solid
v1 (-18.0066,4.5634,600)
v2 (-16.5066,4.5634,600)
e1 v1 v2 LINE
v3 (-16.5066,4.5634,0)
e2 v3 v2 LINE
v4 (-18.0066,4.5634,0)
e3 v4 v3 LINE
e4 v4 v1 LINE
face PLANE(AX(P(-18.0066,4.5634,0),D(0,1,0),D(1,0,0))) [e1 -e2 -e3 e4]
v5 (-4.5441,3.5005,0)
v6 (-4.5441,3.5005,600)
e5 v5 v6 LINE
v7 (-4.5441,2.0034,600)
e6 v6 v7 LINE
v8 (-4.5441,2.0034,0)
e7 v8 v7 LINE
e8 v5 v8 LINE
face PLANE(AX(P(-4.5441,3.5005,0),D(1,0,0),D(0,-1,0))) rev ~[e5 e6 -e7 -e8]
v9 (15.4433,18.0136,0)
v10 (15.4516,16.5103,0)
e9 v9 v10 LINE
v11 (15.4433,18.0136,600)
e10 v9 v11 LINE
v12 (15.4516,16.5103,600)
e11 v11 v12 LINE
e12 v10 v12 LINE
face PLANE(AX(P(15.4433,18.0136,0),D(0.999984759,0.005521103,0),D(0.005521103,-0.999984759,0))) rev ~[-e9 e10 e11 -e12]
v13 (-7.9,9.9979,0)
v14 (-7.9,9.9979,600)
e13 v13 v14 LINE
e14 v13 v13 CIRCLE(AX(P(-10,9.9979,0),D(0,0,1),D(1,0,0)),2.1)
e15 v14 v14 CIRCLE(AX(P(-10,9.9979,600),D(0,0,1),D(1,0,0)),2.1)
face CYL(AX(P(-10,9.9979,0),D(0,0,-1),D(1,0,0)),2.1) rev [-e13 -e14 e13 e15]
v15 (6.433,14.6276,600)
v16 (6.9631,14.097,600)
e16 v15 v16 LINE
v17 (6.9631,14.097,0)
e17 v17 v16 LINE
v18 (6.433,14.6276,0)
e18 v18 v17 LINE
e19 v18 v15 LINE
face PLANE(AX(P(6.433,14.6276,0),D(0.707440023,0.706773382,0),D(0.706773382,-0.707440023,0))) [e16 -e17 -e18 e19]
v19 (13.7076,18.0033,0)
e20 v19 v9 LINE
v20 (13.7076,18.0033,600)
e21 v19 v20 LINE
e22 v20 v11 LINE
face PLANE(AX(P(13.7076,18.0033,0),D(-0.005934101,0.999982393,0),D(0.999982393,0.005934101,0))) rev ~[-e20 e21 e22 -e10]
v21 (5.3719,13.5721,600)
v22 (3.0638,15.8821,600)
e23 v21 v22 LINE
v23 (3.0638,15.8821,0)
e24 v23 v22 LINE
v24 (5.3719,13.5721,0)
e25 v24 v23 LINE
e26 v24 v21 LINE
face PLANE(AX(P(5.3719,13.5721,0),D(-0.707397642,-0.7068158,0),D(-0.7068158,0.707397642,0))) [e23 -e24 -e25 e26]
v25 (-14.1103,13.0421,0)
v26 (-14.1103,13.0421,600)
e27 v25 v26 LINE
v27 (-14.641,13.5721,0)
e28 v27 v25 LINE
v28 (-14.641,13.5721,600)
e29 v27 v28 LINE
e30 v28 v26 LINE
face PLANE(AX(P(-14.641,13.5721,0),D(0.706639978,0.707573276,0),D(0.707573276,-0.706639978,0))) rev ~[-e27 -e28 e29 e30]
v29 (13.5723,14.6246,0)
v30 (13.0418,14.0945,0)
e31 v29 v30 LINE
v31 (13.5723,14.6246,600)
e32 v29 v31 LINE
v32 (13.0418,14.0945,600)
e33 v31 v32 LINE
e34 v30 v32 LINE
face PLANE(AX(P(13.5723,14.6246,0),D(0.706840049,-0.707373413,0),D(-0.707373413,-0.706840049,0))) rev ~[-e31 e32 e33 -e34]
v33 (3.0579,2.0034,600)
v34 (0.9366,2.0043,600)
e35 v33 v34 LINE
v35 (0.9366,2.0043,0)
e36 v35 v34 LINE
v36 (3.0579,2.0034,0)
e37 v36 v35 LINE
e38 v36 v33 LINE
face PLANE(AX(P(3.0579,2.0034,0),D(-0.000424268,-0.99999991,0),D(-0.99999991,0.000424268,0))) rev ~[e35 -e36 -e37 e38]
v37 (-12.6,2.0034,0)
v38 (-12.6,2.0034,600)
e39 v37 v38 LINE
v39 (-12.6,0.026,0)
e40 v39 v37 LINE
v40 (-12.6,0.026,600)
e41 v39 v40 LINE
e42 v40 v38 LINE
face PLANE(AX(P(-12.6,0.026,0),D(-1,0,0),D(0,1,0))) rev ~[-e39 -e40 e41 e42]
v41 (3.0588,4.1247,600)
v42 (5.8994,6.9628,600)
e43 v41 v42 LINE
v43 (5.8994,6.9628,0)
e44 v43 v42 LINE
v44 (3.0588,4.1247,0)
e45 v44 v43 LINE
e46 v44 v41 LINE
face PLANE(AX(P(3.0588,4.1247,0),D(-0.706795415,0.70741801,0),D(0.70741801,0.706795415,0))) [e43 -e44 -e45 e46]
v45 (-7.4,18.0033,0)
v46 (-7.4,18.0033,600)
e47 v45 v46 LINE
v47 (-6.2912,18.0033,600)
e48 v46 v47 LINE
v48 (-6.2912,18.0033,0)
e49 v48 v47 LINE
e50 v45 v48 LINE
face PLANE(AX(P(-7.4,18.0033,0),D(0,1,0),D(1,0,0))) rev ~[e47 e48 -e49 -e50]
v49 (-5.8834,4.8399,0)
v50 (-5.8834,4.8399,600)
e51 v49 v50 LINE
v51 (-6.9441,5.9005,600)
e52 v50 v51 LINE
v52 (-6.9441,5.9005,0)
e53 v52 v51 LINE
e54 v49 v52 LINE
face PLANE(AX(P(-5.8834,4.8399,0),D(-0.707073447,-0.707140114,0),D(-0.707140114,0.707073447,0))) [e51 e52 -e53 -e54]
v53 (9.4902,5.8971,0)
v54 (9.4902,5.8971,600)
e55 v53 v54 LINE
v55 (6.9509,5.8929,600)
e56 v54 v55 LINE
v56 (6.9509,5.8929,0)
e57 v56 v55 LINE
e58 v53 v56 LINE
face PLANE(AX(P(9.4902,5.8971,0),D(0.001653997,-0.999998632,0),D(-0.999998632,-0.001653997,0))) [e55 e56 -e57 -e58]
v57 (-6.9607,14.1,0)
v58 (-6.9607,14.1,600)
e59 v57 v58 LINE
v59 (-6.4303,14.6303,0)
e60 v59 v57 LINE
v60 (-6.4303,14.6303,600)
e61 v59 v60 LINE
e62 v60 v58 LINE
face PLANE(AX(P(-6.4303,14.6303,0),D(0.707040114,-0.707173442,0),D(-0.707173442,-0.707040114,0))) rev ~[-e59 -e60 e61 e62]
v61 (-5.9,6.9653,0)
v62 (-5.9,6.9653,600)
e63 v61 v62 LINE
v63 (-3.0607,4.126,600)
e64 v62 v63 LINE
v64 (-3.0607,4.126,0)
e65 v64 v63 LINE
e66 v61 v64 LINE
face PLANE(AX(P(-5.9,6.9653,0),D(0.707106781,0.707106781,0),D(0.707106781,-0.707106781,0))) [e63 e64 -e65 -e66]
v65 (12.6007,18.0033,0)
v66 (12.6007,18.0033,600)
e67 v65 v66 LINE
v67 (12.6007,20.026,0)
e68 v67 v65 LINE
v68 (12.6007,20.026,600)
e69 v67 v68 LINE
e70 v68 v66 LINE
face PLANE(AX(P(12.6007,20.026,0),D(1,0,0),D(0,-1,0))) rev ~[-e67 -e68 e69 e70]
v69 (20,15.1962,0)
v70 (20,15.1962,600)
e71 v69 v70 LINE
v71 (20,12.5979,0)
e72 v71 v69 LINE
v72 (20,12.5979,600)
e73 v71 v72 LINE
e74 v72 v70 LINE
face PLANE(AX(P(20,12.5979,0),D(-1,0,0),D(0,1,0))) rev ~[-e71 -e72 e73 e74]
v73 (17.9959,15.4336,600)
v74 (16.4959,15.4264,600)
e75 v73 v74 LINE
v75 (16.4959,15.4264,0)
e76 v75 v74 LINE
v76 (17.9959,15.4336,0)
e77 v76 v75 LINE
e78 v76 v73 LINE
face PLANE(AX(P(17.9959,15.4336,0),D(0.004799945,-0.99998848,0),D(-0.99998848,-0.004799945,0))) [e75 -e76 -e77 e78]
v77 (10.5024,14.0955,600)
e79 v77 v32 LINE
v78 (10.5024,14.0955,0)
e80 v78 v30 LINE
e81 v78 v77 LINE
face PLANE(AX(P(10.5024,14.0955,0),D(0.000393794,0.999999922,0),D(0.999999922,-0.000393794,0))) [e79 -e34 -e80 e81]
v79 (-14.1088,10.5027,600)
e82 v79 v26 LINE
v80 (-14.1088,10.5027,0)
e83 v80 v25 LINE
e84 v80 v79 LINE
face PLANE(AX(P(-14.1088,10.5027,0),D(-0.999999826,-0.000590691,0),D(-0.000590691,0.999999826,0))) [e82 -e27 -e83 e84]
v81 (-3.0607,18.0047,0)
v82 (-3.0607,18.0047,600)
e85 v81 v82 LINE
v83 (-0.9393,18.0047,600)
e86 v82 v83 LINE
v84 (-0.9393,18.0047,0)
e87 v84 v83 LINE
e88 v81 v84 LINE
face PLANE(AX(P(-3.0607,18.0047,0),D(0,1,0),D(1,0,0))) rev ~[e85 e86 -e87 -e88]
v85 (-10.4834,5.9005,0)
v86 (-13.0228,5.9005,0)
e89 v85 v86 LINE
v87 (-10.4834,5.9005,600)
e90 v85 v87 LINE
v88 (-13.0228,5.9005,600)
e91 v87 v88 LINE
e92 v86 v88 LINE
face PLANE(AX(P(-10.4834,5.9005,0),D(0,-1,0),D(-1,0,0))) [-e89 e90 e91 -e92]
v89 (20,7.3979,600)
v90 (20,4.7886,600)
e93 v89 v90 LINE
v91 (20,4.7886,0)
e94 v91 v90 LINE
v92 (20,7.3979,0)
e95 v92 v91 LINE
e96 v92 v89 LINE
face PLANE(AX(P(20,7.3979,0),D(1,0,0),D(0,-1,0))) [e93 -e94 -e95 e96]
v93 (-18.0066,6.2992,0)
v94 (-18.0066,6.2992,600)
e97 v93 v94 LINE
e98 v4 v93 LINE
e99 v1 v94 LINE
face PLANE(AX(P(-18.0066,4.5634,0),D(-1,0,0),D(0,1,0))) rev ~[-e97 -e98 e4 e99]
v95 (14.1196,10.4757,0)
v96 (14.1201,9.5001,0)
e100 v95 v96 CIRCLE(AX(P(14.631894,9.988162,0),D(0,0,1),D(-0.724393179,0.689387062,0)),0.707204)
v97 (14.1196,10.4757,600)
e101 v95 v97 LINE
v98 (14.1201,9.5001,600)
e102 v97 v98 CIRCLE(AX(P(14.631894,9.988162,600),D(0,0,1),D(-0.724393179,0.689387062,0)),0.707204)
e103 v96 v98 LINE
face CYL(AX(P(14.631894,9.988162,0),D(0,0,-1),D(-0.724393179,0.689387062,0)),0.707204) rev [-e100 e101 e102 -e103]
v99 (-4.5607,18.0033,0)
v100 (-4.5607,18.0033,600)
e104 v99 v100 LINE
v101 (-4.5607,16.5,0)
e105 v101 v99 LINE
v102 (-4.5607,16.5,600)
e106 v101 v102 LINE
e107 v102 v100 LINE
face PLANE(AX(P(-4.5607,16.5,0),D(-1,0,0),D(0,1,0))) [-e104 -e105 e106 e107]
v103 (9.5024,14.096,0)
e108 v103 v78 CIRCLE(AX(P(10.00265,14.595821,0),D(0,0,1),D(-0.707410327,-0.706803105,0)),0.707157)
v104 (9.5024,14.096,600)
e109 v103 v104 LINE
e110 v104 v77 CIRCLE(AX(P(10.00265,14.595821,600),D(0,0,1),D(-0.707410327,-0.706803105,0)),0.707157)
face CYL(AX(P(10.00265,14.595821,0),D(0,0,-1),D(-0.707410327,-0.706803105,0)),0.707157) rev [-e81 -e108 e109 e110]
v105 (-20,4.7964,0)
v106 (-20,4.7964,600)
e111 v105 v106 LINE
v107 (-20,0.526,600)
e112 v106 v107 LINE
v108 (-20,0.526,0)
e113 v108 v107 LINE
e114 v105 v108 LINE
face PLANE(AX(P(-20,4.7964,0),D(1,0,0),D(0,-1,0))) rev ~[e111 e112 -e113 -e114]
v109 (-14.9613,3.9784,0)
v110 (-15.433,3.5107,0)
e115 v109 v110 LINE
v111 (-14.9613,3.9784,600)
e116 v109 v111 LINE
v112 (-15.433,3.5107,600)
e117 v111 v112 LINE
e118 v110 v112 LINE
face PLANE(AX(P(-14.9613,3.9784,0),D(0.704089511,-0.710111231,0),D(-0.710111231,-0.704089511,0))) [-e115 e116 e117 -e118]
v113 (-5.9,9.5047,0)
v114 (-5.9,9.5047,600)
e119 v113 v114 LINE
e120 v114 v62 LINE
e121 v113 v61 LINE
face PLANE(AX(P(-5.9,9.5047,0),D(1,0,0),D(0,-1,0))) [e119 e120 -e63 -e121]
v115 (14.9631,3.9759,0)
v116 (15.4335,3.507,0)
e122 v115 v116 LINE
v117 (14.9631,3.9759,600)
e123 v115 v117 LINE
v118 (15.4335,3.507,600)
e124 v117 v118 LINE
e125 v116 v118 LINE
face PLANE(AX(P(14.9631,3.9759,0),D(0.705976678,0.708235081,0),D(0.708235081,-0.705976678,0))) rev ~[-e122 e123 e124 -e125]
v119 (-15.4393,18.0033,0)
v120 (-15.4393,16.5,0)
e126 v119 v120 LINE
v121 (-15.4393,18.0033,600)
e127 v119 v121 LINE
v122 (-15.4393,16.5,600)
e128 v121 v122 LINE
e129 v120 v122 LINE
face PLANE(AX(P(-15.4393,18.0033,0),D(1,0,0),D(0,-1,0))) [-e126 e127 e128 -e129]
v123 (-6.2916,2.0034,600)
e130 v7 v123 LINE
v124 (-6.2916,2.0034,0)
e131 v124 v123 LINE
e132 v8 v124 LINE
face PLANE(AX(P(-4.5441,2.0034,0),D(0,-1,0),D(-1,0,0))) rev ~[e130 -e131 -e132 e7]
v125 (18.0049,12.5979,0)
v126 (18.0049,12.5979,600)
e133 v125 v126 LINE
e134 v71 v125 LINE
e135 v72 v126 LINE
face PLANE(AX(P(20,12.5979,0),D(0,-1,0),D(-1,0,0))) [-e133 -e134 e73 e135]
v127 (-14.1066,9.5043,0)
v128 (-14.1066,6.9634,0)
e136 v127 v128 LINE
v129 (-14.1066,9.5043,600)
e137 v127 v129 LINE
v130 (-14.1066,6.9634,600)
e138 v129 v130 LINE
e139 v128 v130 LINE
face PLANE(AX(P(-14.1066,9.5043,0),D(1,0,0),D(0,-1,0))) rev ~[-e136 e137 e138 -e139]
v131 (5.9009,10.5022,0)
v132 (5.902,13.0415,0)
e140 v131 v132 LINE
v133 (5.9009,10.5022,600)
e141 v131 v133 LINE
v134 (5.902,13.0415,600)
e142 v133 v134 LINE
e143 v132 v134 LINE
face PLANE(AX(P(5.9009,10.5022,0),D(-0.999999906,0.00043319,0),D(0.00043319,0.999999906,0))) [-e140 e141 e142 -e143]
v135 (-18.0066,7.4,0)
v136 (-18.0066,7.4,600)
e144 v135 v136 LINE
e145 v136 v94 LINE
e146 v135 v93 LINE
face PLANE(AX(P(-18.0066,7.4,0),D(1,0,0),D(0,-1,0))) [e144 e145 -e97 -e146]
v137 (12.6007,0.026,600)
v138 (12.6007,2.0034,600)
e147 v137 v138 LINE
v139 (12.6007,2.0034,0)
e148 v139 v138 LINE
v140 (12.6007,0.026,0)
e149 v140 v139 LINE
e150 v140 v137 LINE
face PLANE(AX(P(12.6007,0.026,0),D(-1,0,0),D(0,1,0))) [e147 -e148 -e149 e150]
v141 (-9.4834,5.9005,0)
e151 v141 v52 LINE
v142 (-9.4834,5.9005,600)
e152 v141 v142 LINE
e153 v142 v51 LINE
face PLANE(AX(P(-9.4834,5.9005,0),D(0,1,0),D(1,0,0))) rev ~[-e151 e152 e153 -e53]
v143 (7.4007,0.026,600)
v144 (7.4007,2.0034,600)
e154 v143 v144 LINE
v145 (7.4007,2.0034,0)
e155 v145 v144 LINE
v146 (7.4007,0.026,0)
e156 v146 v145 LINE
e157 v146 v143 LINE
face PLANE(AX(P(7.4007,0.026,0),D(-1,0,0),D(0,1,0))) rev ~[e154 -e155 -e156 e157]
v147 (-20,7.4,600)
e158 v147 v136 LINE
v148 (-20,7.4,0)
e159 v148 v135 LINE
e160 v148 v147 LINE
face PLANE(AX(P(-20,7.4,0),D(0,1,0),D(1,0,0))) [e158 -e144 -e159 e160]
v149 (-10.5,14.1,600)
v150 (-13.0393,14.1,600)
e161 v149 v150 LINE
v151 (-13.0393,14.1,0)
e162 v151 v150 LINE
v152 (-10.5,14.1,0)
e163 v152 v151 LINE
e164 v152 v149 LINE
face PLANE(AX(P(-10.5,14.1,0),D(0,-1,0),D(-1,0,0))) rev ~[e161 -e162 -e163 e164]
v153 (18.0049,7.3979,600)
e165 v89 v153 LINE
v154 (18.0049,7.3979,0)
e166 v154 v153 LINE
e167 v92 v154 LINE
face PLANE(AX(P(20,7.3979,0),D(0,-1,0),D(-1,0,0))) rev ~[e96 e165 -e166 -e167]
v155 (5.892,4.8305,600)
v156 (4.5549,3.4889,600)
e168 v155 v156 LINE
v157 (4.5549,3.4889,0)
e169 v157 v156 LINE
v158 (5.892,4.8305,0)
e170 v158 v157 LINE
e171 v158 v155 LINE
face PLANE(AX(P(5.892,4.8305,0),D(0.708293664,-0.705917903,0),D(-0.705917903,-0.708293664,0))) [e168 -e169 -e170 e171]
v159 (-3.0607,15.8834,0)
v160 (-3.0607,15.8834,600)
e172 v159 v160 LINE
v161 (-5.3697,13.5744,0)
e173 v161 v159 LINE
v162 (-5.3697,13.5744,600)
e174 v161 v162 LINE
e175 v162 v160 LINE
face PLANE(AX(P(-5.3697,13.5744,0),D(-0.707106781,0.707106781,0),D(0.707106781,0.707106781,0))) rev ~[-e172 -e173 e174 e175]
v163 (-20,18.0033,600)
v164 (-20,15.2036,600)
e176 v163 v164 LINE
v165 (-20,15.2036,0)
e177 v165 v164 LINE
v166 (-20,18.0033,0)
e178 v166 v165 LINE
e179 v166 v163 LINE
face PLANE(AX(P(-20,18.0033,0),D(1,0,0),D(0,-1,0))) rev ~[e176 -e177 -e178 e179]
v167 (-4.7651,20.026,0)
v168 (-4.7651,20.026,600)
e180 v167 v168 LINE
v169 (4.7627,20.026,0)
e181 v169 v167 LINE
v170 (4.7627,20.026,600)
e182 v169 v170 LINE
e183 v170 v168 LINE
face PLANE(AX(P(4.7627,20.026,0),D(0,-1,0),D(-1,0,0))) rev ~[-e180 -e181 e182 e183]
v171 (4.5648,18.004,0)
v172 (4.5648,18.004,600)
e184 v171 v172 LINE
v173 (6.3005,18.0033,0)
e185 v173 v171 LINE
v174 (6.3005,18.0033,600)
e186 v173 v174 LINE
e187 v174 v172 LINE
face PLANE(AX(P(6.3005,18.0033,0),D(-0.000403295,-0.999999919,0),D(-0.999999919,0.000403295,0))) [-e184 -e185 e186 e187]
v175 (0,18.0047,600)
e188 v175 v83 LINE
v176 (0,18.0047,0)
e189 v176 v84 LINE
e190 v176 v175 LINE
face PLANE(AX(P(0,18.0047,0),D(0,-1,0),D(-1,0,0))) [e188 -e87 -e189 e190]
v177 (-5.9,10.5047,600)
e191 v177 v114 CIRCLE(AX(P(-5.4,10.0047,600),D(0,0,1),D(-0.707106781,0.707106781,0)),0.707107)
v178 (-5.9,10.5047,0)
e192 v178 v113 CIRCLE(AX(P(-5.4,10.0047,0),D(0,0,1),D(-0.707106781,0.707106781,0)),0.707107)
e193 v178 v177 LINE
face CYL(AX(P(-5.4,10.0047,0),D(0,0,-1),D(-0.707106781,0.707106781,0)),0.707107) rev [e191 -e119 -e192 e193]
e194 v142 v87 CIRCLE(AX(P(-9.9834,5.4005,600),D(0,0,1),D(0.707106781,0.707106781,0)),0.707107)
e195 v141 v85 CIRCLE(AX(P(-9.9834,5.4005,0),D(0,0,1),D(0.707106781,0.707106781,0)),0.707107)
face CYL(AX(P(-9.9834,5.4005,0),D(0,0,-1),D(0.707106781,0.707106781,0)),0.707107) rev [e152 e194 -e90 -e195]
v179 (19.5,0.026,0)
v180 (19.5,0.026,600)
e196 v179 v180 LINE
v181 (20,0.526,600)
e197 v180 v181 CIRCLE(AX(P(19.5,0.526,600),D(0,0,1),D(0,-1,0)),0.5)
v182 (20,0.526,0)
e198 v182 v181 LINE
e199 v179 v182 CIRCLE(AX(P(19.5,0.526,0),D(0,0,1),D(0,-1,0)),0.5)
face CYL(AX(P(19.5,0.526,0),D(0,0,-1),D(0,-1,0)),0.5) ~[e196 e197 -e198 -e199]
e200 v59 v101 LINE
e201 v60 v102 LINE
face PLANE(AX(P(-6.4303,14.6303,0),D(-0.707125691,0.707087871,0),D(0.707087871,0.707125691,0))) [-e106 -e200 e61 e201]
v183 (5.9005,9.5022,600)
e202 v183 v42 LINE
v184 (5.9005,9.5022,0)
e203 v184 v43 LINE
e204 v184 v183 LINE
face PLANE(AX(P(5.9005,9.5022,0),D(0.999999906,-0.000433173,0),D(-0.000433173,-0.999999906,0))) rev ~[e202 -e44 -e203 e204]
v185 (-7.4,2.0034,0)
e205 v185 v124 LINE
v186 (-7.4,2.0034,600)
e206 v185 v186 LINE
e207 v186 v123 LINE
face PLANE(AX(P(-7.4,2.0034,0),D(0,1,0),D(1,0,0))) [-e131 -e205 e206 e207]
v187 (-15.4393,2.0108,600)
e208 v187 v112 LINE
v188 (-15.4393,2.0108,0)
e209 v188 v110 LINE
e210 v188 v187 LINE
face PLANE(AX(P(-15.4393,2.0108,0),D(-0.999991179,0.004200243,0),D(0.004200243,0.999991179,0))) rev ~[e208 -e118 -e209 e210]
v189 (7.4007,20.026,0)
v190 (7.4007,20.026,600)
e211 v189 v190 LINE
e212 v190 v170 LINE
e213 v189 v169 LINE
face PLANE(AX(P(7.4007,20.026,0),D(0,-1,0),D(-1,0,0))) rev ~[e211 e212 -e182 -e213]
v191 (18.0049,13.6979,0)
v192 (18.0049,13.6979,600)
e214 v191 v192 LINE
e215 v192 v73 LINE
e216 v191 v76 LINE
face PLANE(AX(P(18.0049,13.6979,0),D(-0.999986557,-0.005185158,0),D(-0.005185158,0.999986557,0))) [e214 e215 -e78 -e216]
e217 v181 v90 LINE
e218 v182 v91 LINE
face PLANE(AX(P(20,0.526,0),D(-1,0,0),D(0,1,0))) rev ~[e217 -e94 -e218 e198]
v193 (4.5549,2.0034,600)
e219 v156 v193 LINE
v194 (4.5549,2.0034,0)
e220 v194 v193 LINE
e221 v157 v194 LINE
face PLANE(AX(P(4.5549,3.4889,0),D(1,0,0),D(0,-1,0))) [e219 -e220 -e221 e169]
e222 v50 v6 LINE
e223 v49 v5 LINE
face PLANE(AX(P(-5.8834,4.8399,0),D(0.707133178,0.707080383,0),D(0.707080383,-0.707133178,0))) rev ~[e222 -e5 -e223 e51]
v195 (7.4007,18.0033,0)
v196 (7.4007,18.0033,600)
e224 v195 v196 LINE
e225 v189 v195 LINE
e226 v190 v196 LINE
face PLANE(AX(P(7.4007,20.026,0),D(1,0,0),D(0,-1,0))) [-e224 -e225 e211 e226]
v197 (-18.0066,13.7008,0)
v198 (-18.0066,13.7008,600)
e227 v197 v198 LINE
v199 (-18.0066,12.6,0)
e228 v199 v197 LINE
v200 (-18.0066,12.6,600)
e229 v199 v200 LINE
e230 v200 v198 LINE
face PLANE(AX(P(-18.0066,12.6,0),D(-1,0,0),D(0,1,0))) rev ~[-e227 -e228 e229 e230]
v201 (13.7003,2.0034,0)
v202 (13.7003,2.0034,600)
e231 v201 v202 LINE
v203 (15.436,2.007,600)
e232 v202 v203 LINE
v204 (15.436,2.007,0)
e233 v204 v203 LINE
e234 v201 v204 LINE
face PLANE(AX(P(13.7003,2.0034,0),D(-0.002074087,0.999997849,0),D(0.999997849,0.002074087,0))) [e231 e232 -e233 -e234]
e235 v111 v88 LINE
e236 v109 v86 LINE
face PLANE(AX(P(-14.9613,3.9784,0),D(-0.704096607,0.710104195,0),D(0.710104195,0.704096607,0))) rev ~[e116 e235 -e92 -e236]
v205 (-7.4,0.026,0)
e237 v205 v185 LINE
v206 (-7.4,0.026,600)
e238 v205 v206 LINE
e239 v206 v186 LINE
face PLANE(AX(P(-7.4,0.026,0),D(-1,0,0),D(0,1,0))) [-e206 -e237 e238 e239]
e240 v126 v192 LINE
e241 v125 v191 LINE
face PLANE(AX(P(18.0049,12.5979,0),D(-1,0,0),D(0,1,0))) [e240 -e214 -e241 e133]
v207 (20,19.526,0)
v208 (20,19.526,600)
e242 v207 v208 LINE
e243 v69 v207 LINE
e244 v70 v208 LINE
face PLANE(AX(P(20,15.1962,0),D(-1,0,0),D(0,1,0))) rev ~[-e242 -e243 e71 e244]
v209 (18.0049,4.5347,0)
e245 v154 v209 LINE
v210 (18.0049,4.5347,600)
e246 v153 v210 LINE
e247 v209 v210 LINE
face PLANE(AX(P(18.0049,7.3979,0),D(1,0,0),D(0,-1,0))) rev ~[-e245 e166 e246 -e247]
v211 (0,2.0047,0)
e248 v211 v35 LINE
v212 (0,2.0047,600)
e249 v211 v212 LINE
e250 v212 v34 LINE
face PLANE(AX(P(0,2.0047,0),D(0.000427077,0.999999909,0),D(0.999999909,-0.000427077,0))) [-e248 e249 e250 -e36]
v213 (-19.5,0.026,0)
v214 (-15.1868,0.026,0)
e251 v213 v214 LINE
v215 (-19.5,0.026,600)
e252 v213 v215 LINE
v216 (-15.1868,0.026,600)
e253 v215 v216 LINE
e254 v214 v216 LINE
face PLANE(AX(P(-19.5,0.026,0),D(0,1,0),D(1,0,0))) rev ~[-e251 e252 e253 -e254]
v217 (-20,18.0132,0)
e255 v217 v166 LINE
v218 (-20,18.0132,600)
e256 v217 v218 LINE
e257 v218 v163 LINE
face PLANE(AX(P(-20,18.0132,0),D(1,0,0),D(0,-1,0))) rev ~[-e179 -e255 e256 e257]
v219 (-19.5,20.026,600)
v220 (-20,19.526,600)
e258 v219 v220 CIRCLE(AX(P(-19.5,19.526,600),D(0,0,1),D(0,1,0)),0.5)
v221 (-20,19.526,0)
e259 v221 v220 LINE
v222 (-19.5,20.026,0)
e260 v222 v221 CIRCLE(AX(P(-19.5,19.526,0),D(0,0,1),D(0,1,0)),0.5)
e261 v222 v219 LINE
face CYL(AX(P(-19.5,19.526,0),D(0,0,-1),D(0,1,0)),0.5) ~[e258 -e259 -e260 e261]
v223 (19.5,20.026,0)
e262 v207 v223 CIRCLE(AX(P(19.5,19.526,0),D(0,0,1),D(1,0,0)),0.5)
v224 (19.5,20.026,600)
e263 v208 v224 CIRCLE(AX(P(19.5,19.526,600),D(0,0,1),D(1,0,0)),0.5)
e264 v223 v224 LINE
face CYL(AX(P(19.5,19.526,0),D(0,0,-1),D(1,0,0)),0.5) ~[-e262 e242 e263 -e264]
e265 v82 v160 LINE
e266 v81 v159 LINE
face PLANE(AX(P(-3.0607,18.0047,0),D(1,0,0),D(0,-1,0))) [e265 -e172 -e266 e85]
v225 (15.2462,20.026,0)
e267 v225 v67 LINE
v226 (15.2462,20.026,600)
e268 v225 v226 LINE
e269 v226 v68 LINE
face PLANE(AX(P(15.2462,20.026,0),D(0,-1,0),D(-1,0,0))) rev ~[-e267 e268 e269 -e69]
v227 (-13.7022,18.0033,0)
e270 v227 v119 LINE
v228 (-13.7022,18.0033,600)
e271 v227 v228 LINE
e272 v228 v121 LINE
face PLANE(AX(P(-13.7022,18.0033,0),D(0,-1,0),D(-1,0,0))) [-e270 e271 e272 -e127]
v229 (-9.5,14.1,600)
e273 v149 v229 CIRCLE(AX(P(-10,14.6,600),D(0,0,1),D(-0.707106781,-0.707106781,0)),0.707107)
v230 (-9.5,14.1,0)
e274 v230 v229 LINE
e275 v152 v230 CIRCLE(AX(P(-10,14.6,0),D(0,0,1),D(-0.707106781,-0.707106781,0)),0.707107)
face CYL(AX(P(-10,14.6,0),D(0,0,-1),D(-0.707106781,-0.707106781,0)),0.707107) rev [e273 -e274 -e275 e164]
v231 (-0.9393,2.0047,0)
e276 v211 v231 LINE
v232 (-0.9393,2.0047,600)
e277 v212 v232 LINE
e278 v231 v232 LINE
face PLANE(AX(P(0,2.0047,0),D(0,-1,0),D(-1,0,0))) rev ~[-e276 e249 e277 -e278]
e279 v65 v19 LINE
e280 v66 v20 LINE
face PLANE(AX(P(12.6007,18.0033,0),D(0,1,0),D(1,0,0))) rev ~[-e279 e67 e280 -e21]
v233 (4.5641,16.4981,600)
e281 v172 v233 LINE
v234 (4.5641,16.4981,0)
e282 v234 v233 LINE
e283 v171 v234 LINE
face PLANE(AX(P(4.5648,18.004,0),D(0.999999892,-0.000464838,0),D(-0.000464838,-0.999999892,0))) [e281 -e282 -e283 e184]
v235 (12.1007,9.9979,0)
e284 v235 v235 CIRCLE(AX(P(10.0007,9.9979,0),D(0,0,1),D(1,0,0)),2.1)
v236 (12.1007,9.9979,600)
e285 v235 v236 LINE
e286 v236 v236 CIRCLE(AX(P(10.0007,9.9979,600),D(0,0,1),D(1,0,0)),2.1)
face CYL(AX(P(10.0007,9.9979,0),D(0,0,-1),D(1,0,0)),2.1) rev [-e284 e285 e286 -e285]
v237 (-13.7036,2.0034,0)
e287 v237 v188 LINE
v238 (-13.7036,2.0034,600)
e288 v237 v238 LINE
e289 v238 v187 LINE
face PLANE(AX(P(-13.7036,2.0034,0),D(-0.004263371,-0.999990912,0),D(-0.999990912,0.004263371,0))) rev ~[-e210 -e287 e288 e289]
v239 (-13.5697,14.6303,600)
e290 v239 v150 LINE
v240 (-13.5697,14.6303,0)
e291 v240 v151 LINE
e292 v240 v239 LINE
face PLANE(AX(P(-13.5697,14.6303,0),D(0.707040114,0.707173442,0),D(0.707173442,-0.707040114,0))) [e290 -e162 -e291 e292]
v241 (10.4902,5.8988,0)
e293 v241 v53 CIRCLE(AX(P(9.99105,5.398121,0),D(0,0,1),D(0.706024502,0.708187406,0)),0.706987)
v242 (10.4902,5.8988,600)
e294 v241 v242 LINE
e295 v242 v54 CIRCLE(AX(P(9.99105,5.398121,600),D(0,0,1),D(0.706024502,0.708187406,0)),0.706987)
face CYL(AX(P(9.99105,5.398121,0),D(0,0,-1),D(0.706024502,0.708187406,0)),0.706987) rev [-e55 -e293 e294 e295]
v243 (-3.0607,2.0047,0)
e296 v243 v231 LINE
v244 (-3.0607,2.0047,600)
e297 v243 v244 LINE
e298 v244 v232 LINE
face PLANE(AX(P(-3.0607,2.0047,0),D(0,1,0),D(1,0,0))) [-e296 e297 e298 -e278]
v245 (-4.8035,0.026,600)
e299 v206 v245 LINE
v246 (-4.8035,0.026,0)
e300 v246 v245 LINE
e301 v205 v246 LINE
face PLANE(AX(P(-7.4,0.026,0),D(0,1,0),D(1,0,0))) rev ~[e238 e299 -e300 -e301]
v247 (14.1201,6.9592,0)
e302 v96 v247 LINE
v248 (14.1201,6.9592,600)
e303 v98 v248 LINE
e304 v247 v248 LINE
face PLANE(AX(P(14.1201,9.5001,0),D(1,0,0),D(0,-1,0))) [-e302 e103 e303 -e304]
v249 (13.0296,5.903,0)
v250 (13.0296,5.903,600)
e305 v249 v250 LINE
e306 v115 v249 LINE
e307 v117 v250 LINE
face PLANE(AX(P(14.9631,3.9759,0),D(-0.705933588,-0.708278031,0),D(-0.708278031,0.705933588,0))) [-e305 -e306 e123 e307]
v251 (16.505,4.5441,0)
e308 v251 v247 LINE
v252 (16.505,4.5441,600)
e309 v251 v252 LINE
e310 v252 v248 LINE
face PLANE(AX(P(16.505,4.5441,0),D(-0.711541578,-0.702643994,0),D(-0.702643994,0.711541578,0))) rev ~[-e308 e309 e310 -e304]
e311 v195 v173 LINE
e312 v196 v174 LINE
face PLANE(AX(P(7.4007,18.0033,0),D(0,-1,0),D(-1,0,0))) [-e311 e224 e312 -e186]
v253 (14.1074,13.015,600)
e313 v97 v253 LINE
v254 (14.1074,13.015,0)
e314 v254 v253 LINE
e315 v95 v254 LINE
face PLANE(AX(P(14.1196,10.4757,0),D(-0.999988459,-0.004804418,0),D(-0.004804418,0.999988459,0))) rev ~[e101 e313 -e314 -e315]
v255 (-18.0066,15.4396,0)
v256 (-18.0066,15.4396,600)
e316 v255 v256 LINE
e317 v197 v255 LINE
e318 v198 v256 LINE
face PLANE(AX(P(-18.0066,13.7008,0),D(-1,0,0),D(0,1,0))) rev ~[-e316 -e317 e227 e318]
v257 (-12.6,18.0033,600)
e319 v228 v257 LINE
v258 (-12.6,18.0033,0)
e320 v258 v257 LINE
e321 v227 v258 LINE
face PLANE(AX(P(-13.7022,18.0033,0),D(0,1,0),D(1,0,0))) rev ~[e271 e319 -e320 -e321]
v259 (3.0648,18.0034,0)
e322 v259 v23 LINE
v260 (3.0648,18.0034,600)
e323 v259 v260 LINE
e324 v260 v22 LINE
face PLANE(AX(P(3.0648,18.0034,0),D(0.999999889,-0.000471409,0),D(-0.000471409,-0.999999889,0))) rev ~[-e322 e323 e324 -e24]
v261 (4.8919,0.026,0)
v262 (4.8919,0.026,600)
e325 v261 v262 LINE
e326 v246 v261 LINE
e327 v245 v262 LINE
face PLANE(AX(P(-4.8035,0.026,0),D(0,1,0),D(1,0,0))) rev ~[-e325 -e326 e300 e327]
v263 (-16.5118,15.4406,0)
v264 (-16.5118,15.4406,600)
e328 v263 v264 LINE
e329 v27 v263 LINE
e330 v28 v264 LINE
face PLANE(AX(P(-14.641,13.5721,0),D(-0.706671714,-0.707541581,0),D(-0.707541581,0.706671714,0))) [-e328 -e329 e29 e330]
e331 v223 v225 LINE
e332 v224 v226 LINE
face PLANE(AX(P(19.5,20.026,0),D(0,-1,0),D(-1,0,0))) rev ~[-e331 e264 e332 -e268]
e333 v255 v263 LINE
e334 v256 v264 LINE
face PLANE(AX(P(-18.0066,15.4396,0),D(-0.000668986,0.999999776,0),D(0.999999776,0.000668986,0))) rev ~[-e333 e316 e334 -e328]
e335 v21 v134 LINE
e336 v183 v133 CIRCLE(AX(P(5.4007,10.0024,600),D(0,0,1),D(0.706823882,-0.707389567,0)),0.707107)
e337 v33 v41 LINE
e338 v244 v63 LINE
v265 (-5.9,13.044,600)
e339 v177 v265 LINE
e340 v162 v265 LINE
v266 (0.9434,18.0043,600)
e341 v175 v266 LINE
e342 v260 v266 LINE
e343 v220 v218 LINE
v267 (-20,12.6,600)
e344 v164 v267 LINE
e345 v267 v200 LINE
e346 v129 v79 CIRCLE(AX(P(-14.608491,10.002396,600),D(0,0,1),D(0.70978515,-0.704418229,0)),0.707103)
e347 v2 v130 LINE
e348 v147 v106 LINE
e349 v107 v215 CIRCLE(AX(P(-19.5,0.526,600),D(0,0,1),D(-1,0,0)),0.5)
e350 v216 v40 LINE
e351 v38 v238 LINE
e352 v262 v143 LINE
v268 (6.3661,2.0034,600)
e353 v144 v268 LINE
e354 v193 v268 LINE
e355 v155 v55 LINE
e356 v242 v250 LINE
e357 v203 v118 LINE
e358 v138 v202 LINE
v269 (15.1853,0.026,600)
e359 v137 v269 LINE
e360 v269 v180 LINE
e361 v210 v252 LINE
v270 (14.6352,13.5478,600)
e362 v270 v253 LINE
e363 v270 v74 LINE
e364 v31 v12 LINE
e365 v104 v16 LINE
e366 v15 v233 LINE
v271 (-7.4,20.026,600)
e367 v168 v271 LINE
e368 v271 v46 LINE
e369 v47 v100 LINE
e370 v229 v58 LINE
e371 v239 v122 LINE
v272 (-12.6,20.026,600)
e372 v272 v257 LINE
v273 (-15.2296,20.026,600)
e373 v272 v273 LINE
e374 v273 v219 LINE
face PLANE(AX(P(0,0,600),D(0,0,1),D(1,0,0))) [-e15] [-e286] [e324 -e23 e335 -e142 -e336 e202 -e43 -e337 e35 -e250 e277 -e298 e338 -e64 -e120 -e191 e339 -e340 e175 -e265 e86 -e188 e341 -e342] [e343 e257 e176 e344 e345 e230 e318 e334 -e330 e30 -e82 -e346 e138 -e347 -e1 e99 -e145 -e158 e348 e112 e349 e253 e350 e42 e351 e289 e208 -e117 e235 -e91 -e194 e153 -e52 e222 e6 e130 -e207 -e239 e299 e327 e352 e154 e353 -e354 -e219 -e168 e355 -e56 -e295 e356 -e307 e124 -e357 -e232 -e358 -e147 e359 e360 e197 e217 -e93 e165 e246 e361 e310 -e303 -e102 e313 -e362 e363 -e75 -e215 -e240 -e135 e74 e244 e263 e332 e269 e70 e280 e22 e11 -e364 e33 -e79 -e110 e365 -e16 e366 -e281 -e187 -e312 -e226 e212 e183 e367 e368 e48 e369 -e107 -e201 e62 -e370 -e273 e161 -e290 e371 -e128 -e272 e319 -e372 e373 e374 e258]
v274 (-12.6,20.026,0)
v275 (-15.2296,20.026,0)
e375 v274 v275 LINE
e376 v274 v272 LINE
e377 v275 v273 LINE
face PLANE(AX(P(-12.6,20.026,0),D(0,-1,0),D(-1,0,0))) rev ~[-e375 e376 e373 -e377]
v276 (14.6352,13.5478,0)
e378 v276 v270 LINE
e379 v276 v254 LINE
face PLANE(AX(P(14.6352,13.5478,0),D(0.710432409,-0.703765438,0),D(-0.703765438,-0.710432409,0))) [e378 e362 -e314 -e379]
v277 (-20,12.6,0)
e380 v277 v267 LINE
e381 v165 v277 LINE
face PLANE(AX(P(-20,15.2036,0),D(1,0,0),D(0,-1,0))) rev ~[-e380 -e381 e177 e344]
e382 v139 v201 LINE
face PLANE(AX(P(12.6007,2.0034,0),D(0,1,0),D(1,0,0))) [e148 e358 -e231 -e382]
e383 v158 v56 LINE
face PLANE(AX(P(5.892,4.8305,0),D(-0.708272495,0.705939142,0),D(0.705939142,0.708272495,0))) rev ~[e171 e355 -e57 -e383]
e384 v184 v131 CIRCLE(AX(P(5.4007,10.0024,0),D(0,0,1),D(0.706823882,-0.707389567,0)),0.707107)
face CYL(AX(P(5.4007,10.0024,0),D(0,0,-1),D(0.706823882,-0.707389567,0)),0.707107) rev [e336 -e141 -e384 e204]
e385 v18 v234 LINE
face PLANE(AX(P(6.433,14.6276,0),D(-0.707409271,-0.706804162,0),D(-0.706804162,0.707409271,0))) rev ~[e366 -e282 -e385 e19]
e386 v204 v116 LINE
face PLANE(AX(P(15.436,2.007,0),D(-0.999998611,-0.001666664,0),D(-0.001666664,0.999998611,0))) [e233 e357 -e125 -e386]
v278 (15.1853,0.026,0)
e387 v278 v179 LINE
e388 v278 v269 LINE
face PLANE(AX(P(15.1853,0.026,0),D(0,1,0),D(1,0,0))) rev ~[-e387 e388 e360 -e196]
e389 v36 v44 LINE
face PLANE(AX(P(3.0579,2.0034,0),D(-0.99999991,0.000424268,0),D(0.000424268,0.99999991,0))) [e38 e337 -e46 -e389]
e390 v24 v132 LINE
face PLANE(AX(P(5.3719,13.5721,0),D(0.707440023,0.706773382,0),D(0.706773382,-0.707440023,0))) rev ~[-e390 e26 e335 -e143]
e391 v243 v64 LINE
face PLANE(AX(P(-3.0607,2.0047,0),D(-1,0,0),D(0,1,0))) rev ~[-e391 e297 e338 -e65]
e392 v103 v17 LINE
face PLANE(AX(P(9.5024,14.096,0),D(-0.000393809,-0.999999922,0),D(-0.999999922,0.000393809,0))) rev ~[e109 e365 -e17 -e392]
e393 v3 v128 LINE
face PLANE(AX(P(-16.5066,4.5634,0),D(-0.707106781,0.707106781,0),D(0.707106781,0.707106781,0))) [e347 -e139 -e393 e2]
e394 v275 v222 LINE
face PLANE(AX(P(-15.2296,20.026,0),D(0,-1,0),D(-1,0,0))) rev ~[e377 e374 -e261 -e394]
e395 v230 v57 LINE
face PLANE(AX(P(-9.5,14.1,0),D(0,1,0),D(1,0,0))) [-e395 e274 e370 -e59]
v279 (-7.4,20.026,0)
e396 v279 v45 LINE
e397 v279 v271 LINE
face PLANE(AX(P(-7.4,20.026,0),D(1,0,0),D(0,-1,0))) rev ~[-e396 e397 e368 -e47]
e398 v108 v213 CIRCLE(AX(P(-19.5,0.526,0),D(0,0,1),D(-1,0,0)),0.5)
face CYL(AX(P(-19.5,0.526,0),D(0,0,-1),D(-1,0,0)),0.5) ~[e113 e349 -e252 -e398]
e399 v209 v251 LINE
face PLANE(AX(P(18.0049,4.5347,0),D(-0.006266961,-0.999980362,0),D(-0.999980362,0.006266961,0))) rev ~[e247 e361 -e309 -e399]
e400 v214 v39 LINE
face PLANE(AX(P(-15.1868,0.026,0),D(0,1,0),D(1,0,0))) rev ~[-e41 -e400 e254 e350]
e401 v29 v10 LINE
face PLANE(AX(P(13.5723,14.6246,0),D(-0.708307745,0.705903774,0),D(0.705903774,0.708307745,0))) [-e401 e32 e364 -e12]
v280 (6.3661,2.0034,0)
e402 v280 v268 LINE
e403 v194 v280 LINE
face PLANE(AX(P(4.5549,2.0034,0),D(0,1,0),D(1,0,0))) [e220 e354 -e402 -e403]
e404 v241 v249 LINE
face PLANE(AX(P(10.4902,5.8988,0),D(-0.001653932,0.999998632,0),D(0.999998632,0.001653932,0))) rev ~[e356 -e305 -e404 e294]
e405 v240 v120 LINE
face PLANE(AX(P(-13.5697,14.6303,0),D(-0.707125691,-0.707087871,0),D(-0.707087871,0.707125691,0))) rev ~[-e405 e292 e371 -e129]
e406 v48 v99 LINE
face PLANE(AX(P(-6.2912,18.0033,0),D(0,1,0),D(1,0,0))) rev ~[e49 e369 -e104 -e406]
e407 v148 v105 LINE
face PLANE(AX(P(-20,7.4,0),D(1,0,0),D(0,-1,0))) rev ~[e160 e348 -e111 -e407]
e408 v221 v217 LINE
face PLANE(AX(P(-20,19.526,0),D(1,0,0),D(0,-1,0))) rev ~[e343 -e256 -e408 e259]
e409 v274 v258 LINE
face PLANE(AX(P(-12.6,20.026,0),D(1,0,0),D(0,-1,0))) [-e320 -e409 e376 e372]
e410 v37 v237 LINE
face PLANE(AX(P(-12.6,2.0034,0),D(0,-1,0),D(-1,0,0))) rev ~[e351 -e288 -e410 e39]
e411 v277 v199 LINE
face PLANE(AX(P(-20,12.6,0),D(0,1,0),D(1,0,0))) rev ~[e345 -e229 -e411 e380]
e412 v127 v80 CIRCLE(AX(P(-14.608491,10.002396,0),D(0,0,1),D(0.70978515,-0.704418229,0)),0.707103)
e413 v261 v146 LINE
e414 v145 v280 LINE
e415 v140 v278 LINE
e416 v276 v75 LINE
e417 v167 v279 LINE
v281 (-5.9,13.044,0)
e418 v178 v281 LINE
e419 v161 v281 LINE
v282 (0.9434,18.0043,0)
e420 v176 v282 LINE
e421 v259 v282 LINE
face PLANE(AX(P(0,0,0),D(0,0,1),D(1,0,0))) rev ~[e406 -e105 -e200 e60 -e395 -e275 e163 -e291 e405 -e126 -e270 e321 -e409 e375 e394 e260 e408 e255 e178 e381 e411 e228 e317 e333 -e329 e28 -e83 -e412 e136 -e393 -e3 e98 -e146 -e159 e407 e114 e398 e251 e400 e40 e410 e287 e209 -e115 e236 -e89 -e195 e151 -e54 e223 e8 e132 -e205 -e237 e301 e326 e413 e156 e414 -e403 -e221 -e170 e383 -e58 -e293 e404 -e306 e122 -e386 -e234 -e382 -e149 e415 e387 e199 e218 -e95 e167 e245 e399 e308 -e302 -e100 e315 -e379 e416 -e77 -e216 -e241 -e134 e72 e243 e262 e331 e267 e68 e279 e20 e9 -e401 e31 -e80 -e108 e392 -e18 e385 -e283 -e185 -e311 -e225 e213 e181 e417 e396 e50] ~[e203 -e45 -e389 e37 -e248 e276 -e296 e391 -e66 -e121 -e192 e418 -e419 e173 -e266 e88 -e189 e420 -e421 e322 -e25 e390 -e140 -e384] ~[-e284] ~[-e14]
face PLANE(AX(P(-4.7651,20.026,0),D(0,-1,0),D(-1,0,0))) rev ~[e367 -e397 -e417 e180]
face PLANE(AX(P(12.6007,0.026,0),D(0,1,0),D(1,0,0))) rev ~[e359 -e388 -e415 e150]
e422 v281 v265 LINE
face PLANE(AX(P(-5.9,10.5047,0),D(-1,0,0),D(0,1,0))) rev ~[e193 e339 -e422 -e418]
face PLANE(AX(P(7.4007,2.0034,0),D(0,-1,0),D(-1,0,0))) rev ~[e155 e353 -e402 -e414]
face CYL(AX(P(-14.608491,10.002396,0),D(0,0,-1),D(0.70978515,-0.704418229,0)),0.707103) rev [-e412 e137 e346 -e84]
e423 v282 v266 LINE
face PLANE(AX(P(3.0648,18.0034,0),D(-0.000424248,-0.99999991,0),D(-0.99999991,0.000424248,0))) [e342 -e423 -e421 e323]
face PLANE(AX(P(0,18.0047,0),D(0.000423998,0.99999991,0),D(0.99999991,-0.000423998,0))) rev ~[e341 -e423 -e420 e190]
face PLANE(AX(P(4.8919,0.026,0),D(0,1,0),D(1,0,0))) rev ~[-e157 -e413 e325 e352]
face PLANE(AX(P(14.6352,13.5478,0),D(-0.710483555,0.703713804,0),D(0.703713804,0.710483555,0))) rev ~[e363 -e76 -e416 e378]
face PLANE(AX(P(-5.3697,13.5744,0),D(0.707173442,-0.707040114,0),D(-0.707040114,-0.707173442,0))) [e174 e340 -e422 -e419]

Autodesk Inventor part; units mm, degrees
ref_plane "YZ Plane" through (0, 0, 0) normal (1, 0, 0) x (0, 1, 0)
ref_plane "XZ Plane" through (0, 0, 0) normal (0, 1, 0) x (-1, 0, 0)
ref_plane "XY Plane" through (0, 0, 0) normal (0, 0, 1) x (1, 0, 0)
sketch "Szkic1" plane through (0, 0, 0) normal (0, 0, 1) x (1, 0, 0)
  circle A0 centre (-10, 9.9979) radius 2.1
  line L0 (-14.9613, 3.9784) -> (-13.0228, 5.9005)
  line L1 (-18.0066, 4.5634) -> (-18.0066, 6.2992)
  line L2 (-18.0066, 13.7008) -> (-18.0066, 15.4396)
  line L3 (-14.9613, 3.9784) -> (-15.433, 3.5107)
  line L4 (-13.7036, 2.0034) -> (-15.4393, 2.0108)
  line L5 (-13.5697, 14.6303) -> (-15.4393, 16.5)
  line L6 (-13.5697, 14.6303) -> (-13.0393, 14.1)
  line L7 (-14.641, 13.5721) -> (-14.1103, 13.0421)
  line L8 (-13.7022, 18.0033) -> (-15.4393, 18.0033)
  line L9 (-14.641, 13.5721) -> (-16.5118, 15.4406)
  line L10 (-15.4393, 18.0033) -> (-15.4393, 16.5)
  line L11 (-18.0066, 15.4396) -> (-16.5118, 15.4406)
  line L12 (-18.0066, 4.5634) -> (-16.5066, 4.5634)
  line L13 (-15.4393, 2.0108) -> (-15.433, 3.5107)
  line L14 (-6.4303, 14.6303) -> (-6.9607, 14.1)
  line L15 (-5.3697, 13.5744) -> (-5.9, 13.044)
  line L16 (-5.8834, 4.8399) -> (-6.9441, 5.9005)
  line L17 (0, 2.0047) -> (-0.9393, 2.0047)
  line L18 (0, 18.0047) -> (-0.9393, 18.0047)
  line L19 (-6.4303, 14.6303) -> (-4.5607, 16.5)
  line L20 (-3.0607, 18.0047) -> (-3.0607, 15.8834)
  line L21 (-3.0607, 18.0047) -> (-0.9393, 18.0047)
  line L22 (-5.3697, 13.5744) -> (-3.0607, 15.8834)
  line L23 (-3.0607, 2.0047) -> (-3.0607, 4.126)
  line L24 (-5.8834, 4.8399) -> (-4.5441, 3.5005)
  line L25 (-3.0607, 2.0047) -> (-0.9393, 2.0047)
  line L26 (-14.1088, 10.5027) -> (-14.1103, 13.0421)
  line L27 (-10.5, 14.1) -> (-13.0393, 14.1)
  line L28 (-9.5, 14.1) -> (-6.9607, 14.1)
  line L29 (-5.9, 10.5047) -> (-5.9, 13.044)
  line L30 (-5.9, 9.5047) -> (-5.9, 6.9653)
  line L31 (-9.4834, 5.9005) -> (-6.9441, 5.9005)
  line L32 (-10.4834, 5.9005) -> (-13.0228, 5.9005)
  arc A1 (-10.5, 14.1) -> (-9.5, 14.1) centre (-10, 14.6) ccw
  arc A2 (-14.1066, 9.5043) -> (-14.1088, 10.5027) centre (-14.6085, 10.0024) ccw
  arc A3 (-9.4834, 5.9005) -> (-10.4834, 5.9005) centre (-9.9834, 5.4005) ccw
  arc A4 (-5.9, 10.5047) -> (-5.9, 9.5047) centre (-5.4, 10.0047) ccw
  line L33 (10.4902, 5.8988) -> (13.0296, 5.903)
  arc A5 (5.9005, 9.5022) -> (5.9009, 10.5022) centre (5.4007, 10.0024) ccw
  circle A6 centre (10.0007, 9.9979) radius 2.1
  line L34 (5.9009, 10.5022) -> (5.902, 13.0415)
  line L35 (9.5024, 14.096) -> (6.9631, 14.097)
  line L36 (6.433, 14.6276) -> (6.9631, 14.097)
  arc A7 (14.1196, 10.4757) -> (14.1201, 9.5001) centre (14.6318, 9.9882) ccw
  arc A8 (9.5024, 14.096) -> (10.5024, 14.0955) centre (10.0026, 14.5957) ccw
  line L37 (14.1196, 10.4757) -> (14.1074, 13.015)
  line L38 (10.5024, 14.0955) -> (13.0418, 14.0945)
  line L39 (14.6352, 13.5478) -> (14.1074, 13.015)
  line L40 (13.5723, 14.6246) -> (13.0418, 14.0945)
  line L41 (14.9631, 3.9759) -> (13.0296, 5.903)
  line L42 (15.4994, 6.8934) -> (15.1709, 6.8935) construction
  line L43 (14.9631, 3.9759) -> (15.4335, 3.507)
  line L44 (13.7003, 2.0034) -> (15.436, 2.007)
  line L45 (15.436, 2.007) -> (15.4335, 3.507)
  line L46 (18.0049, 4.5347) -> (16.505, 4.5441)
  arc A9 (10.4902, 5.8988) -> (9.4902, 5.8971) centre (9.991, 5.398) ccw
  line L47 (9.4902, 5.8971) -> (6.9509, 5.8929)
  line L48 (5.3719, 13.5721) -> (5.902, 13.0415)
  line L49 (5.3719, 13.5721) -> (3.0638, 15.8821)
  line L50 (6.433, 14.6276) -> (4.5641, 16.4981)
  line L51 (0, 18.0047) -> (0.9434, 18.0043)
  line L52 (3.0648, 18.0034) -> (0.9434, 18.0043)
  line L53 (3.0648, 18.0034) -> (3.0638, 15.8821)
  line L54 (4.5648, 18.004) -> (4.5641, 16.4981)
  line L55 (5.9005, 9.5022) -> (5.8994, 6.9628)
  line L56 (5.892, 4.8305) -> (6.9509, 5.8929)
  line L57 (5.892, 4.8305) -> (4.5549, 3.4889)
  line L58 (18.0049, 13.6979) -> (17.9959, 15.4336)
  line L59 (13.5723, 14.6246) -> (15.4516, 16.5103)
  line L60 (13.7076, 18.0033) -> (15.4433, 18.0136)
  line L61 (14.6352, 13.5478) -> (16.4959, 15.4264)
  line L62 (15.4433, 18.0136) -> (15.4516, 16.5103)
  line L63 (17.9959, 15.4336) -> (16.4959, 15.4264)
  line L64 (3.0579, 2.0034) -> (3.0588, 4.1247)
  line L65 (3.0579, 2.0034) -> (0.9366, 2.0043)
  line L66 (0, 2.0047) -> (0.9366, 2.0043)
  line L67 (-4.5607, 16.5) -> (-4.5607, 18.0033)
  line L68 (-6.2912, 18.0033) -> (-4.5607, 18.0033)
  line L69 (6.3005, 18.0033) -> (4.5648, 18.004)
  line L70 (-14.1066, 9.5043) -> (-14.1066, 6.9634)
  line L71 (14.1201, 9.5001) -> (14.1201, 6.9592)
  line L72 (3.0588, 4.1247) -> (5.8994, 6.9628)
  line L73 (-5.9, 6.9653) -> (-3.0607, 4.126)
  line L74 (-4.5441, 2.0034) -> (-6.2916, 2.0034)
  line L75 (-4.5441, 3.5005) -> (-4.5441, 2.0034)
  line L76 (4.5549, 2.0034) -> (6.3661, 2.0034)
  line L77 (6.5461, 1.5766) -> (6.5038, 1.5343)
  line L78 (4.5549, 3.4889) -> (4.5549, 2.0034)
  line L79 (-20, 18.0132) -> (-20, 18.0033)
  line L80 (-15.2296, 20.026) -> (-19.5, 20.026)
  line L81 (19.5, 20.026) -> (15.2462, 20.026)
  line L82 (4.7627, 20.026) -> (-4.7651, 20.026)
  line L83 (20, 0.526) -> (20, 4.7886)
  line L84 (20, 15.1962) -> (20, 19.526)
  line L85 (15.1853, 0.026) -> (19.5, 0.026)
  line L86 (-19.5, 0.026) -> (-15.1868, 0.026)
  line L87 (-4.8035, 0.026) -> (4.8919, 0.026)
  line L88 (-20, 19.526) -> (-20, 15.2036)
  line L89 (-20, 4.7964) -> (-20, 0.526)
  line L90 (-16.5066, 4.5634) -> (-14.1066, 6.9634)
  line L91 (16.505, 4.5441) -> (14.1201, 6.9592)
  line L92 (-8.9462, 9.9979) -> (-8.9325, 9.9979)
  arc A10 (-19.5, 20.026) -> (-20, 19.526) centre (-19.5, 19.526) ccw
  arc A11 (20, 19.526) -> (19.5, 20.026) centre (19.5, 19.526) ccw
  arc A12 (19.5, 0.026) -> (20, 0.526) centre (19.5, 0.526) ccw
  arc A13 (-20, 0.526) -> (-19.5, 0.026) centre (-19.5, 0.526) ccw
  line L93 (-12.6, 20.026) -> (-12.6, 18.0033)
  line L94 (-7.4, 20.026) -> (-7.4, 18.0033)
  line L95 (-4.7651, 20.026) -> (-7.4, 20.026)
  line L96 (-12.6, 20.026) -> (-15.2296, 20.026)
  line L97 (-13.7022, 18.0033) -> (-12.6, 18.0033)
  line L98 (-7.4, 18.0033) -> (-6.2912, 18.0033)
  line L99 (-20, 12.6) -> (-18.0066, 12.6)
  line L100 (-18.0066, 12.6) -> (-18.0066, 13.7008)
  line L101 (-20, 7.4) -> (-18.0066, 7.4)
  line L102 (-18.0066, 7.4) -> (-18.0066, 6.2992)
  line L103 (-20, 15.2036) -> (-20, 12.6)
  line L104 (-20, 7.4) -> (-20, 4.7964)
  line L105 (-7.4, 0.026) -> (-7.4, 2.0034)
  line L106 (-7.4, 2.0034) -> (-6.2916, 2.0034)
  line L107 (-12.6, 0.026) -> (-12.6, 2.0034)
  line L108 (-12.6, 2.0034) -> (-13.7036, 2.0034)
  line L109 (-15.1868, 0.026) -> (-12.6, 0.026)
  line L110 (-7.4, 0.026) -> (-4.8035, 0.026)
  line L111 (7.4007, 20.026) -> (4.7627, 20.026)
  line L112 (15.2462, 20.026) -> (12.6007, 20.026)
  line L113 (12.6007, 20.026) -> (12.6007, 18.0033)
  line L114 (12.6007, 18.0033) -> (13.7076, 18.0033)
  line L115 (7.4007, 20.026) -> (7.4007, 18.0033)
  line L116 (7.4007, 18.0033) -> (6.3005, 18.0033)
  line L117 (20, 7.3979) -> (20, 4.7886)
  line L118 (20, 12.5979) -> (20, 15.1962)
  line L119 (20, 12.5979) -> (18.0049, 12.5979)
  line L120 (18.0049, 12.5979) -> (18.0049, 13.6979)
  line L121 (20, 7.4) -> (20, 7.3979)
  line L122 (20, 7.3979) -> (18.0049, 7.3979)
  line L123 (18.0049, 7.3979) -> (18.0049, 4.5347)
  line L124 (10.0007, 9.9979) -> (19.9726, 9.9979) construction
  line L125 (12.6007, 0.026) -> (15.1853, 0.026)
  line L126 (4.8919, 0.026) -> (7.4007, 0.026)
  line L127 (12.6007, 0.026) -> (12.6007, 2.0034)
  line L128 (12.6007, 2.0034) -> (13.7003, 2.0034)
  line L129 (7.4007, 0.026) -> (7.4007, 2.0034)
  line L130 (7.4007, 2.0034) -> (6.3661, 2.0034)
extrude "Wyciągnięcie proste1" add sketch "Szkic1" along normal blind 600
properties part number "Profil dolny posuwu osi Y"
